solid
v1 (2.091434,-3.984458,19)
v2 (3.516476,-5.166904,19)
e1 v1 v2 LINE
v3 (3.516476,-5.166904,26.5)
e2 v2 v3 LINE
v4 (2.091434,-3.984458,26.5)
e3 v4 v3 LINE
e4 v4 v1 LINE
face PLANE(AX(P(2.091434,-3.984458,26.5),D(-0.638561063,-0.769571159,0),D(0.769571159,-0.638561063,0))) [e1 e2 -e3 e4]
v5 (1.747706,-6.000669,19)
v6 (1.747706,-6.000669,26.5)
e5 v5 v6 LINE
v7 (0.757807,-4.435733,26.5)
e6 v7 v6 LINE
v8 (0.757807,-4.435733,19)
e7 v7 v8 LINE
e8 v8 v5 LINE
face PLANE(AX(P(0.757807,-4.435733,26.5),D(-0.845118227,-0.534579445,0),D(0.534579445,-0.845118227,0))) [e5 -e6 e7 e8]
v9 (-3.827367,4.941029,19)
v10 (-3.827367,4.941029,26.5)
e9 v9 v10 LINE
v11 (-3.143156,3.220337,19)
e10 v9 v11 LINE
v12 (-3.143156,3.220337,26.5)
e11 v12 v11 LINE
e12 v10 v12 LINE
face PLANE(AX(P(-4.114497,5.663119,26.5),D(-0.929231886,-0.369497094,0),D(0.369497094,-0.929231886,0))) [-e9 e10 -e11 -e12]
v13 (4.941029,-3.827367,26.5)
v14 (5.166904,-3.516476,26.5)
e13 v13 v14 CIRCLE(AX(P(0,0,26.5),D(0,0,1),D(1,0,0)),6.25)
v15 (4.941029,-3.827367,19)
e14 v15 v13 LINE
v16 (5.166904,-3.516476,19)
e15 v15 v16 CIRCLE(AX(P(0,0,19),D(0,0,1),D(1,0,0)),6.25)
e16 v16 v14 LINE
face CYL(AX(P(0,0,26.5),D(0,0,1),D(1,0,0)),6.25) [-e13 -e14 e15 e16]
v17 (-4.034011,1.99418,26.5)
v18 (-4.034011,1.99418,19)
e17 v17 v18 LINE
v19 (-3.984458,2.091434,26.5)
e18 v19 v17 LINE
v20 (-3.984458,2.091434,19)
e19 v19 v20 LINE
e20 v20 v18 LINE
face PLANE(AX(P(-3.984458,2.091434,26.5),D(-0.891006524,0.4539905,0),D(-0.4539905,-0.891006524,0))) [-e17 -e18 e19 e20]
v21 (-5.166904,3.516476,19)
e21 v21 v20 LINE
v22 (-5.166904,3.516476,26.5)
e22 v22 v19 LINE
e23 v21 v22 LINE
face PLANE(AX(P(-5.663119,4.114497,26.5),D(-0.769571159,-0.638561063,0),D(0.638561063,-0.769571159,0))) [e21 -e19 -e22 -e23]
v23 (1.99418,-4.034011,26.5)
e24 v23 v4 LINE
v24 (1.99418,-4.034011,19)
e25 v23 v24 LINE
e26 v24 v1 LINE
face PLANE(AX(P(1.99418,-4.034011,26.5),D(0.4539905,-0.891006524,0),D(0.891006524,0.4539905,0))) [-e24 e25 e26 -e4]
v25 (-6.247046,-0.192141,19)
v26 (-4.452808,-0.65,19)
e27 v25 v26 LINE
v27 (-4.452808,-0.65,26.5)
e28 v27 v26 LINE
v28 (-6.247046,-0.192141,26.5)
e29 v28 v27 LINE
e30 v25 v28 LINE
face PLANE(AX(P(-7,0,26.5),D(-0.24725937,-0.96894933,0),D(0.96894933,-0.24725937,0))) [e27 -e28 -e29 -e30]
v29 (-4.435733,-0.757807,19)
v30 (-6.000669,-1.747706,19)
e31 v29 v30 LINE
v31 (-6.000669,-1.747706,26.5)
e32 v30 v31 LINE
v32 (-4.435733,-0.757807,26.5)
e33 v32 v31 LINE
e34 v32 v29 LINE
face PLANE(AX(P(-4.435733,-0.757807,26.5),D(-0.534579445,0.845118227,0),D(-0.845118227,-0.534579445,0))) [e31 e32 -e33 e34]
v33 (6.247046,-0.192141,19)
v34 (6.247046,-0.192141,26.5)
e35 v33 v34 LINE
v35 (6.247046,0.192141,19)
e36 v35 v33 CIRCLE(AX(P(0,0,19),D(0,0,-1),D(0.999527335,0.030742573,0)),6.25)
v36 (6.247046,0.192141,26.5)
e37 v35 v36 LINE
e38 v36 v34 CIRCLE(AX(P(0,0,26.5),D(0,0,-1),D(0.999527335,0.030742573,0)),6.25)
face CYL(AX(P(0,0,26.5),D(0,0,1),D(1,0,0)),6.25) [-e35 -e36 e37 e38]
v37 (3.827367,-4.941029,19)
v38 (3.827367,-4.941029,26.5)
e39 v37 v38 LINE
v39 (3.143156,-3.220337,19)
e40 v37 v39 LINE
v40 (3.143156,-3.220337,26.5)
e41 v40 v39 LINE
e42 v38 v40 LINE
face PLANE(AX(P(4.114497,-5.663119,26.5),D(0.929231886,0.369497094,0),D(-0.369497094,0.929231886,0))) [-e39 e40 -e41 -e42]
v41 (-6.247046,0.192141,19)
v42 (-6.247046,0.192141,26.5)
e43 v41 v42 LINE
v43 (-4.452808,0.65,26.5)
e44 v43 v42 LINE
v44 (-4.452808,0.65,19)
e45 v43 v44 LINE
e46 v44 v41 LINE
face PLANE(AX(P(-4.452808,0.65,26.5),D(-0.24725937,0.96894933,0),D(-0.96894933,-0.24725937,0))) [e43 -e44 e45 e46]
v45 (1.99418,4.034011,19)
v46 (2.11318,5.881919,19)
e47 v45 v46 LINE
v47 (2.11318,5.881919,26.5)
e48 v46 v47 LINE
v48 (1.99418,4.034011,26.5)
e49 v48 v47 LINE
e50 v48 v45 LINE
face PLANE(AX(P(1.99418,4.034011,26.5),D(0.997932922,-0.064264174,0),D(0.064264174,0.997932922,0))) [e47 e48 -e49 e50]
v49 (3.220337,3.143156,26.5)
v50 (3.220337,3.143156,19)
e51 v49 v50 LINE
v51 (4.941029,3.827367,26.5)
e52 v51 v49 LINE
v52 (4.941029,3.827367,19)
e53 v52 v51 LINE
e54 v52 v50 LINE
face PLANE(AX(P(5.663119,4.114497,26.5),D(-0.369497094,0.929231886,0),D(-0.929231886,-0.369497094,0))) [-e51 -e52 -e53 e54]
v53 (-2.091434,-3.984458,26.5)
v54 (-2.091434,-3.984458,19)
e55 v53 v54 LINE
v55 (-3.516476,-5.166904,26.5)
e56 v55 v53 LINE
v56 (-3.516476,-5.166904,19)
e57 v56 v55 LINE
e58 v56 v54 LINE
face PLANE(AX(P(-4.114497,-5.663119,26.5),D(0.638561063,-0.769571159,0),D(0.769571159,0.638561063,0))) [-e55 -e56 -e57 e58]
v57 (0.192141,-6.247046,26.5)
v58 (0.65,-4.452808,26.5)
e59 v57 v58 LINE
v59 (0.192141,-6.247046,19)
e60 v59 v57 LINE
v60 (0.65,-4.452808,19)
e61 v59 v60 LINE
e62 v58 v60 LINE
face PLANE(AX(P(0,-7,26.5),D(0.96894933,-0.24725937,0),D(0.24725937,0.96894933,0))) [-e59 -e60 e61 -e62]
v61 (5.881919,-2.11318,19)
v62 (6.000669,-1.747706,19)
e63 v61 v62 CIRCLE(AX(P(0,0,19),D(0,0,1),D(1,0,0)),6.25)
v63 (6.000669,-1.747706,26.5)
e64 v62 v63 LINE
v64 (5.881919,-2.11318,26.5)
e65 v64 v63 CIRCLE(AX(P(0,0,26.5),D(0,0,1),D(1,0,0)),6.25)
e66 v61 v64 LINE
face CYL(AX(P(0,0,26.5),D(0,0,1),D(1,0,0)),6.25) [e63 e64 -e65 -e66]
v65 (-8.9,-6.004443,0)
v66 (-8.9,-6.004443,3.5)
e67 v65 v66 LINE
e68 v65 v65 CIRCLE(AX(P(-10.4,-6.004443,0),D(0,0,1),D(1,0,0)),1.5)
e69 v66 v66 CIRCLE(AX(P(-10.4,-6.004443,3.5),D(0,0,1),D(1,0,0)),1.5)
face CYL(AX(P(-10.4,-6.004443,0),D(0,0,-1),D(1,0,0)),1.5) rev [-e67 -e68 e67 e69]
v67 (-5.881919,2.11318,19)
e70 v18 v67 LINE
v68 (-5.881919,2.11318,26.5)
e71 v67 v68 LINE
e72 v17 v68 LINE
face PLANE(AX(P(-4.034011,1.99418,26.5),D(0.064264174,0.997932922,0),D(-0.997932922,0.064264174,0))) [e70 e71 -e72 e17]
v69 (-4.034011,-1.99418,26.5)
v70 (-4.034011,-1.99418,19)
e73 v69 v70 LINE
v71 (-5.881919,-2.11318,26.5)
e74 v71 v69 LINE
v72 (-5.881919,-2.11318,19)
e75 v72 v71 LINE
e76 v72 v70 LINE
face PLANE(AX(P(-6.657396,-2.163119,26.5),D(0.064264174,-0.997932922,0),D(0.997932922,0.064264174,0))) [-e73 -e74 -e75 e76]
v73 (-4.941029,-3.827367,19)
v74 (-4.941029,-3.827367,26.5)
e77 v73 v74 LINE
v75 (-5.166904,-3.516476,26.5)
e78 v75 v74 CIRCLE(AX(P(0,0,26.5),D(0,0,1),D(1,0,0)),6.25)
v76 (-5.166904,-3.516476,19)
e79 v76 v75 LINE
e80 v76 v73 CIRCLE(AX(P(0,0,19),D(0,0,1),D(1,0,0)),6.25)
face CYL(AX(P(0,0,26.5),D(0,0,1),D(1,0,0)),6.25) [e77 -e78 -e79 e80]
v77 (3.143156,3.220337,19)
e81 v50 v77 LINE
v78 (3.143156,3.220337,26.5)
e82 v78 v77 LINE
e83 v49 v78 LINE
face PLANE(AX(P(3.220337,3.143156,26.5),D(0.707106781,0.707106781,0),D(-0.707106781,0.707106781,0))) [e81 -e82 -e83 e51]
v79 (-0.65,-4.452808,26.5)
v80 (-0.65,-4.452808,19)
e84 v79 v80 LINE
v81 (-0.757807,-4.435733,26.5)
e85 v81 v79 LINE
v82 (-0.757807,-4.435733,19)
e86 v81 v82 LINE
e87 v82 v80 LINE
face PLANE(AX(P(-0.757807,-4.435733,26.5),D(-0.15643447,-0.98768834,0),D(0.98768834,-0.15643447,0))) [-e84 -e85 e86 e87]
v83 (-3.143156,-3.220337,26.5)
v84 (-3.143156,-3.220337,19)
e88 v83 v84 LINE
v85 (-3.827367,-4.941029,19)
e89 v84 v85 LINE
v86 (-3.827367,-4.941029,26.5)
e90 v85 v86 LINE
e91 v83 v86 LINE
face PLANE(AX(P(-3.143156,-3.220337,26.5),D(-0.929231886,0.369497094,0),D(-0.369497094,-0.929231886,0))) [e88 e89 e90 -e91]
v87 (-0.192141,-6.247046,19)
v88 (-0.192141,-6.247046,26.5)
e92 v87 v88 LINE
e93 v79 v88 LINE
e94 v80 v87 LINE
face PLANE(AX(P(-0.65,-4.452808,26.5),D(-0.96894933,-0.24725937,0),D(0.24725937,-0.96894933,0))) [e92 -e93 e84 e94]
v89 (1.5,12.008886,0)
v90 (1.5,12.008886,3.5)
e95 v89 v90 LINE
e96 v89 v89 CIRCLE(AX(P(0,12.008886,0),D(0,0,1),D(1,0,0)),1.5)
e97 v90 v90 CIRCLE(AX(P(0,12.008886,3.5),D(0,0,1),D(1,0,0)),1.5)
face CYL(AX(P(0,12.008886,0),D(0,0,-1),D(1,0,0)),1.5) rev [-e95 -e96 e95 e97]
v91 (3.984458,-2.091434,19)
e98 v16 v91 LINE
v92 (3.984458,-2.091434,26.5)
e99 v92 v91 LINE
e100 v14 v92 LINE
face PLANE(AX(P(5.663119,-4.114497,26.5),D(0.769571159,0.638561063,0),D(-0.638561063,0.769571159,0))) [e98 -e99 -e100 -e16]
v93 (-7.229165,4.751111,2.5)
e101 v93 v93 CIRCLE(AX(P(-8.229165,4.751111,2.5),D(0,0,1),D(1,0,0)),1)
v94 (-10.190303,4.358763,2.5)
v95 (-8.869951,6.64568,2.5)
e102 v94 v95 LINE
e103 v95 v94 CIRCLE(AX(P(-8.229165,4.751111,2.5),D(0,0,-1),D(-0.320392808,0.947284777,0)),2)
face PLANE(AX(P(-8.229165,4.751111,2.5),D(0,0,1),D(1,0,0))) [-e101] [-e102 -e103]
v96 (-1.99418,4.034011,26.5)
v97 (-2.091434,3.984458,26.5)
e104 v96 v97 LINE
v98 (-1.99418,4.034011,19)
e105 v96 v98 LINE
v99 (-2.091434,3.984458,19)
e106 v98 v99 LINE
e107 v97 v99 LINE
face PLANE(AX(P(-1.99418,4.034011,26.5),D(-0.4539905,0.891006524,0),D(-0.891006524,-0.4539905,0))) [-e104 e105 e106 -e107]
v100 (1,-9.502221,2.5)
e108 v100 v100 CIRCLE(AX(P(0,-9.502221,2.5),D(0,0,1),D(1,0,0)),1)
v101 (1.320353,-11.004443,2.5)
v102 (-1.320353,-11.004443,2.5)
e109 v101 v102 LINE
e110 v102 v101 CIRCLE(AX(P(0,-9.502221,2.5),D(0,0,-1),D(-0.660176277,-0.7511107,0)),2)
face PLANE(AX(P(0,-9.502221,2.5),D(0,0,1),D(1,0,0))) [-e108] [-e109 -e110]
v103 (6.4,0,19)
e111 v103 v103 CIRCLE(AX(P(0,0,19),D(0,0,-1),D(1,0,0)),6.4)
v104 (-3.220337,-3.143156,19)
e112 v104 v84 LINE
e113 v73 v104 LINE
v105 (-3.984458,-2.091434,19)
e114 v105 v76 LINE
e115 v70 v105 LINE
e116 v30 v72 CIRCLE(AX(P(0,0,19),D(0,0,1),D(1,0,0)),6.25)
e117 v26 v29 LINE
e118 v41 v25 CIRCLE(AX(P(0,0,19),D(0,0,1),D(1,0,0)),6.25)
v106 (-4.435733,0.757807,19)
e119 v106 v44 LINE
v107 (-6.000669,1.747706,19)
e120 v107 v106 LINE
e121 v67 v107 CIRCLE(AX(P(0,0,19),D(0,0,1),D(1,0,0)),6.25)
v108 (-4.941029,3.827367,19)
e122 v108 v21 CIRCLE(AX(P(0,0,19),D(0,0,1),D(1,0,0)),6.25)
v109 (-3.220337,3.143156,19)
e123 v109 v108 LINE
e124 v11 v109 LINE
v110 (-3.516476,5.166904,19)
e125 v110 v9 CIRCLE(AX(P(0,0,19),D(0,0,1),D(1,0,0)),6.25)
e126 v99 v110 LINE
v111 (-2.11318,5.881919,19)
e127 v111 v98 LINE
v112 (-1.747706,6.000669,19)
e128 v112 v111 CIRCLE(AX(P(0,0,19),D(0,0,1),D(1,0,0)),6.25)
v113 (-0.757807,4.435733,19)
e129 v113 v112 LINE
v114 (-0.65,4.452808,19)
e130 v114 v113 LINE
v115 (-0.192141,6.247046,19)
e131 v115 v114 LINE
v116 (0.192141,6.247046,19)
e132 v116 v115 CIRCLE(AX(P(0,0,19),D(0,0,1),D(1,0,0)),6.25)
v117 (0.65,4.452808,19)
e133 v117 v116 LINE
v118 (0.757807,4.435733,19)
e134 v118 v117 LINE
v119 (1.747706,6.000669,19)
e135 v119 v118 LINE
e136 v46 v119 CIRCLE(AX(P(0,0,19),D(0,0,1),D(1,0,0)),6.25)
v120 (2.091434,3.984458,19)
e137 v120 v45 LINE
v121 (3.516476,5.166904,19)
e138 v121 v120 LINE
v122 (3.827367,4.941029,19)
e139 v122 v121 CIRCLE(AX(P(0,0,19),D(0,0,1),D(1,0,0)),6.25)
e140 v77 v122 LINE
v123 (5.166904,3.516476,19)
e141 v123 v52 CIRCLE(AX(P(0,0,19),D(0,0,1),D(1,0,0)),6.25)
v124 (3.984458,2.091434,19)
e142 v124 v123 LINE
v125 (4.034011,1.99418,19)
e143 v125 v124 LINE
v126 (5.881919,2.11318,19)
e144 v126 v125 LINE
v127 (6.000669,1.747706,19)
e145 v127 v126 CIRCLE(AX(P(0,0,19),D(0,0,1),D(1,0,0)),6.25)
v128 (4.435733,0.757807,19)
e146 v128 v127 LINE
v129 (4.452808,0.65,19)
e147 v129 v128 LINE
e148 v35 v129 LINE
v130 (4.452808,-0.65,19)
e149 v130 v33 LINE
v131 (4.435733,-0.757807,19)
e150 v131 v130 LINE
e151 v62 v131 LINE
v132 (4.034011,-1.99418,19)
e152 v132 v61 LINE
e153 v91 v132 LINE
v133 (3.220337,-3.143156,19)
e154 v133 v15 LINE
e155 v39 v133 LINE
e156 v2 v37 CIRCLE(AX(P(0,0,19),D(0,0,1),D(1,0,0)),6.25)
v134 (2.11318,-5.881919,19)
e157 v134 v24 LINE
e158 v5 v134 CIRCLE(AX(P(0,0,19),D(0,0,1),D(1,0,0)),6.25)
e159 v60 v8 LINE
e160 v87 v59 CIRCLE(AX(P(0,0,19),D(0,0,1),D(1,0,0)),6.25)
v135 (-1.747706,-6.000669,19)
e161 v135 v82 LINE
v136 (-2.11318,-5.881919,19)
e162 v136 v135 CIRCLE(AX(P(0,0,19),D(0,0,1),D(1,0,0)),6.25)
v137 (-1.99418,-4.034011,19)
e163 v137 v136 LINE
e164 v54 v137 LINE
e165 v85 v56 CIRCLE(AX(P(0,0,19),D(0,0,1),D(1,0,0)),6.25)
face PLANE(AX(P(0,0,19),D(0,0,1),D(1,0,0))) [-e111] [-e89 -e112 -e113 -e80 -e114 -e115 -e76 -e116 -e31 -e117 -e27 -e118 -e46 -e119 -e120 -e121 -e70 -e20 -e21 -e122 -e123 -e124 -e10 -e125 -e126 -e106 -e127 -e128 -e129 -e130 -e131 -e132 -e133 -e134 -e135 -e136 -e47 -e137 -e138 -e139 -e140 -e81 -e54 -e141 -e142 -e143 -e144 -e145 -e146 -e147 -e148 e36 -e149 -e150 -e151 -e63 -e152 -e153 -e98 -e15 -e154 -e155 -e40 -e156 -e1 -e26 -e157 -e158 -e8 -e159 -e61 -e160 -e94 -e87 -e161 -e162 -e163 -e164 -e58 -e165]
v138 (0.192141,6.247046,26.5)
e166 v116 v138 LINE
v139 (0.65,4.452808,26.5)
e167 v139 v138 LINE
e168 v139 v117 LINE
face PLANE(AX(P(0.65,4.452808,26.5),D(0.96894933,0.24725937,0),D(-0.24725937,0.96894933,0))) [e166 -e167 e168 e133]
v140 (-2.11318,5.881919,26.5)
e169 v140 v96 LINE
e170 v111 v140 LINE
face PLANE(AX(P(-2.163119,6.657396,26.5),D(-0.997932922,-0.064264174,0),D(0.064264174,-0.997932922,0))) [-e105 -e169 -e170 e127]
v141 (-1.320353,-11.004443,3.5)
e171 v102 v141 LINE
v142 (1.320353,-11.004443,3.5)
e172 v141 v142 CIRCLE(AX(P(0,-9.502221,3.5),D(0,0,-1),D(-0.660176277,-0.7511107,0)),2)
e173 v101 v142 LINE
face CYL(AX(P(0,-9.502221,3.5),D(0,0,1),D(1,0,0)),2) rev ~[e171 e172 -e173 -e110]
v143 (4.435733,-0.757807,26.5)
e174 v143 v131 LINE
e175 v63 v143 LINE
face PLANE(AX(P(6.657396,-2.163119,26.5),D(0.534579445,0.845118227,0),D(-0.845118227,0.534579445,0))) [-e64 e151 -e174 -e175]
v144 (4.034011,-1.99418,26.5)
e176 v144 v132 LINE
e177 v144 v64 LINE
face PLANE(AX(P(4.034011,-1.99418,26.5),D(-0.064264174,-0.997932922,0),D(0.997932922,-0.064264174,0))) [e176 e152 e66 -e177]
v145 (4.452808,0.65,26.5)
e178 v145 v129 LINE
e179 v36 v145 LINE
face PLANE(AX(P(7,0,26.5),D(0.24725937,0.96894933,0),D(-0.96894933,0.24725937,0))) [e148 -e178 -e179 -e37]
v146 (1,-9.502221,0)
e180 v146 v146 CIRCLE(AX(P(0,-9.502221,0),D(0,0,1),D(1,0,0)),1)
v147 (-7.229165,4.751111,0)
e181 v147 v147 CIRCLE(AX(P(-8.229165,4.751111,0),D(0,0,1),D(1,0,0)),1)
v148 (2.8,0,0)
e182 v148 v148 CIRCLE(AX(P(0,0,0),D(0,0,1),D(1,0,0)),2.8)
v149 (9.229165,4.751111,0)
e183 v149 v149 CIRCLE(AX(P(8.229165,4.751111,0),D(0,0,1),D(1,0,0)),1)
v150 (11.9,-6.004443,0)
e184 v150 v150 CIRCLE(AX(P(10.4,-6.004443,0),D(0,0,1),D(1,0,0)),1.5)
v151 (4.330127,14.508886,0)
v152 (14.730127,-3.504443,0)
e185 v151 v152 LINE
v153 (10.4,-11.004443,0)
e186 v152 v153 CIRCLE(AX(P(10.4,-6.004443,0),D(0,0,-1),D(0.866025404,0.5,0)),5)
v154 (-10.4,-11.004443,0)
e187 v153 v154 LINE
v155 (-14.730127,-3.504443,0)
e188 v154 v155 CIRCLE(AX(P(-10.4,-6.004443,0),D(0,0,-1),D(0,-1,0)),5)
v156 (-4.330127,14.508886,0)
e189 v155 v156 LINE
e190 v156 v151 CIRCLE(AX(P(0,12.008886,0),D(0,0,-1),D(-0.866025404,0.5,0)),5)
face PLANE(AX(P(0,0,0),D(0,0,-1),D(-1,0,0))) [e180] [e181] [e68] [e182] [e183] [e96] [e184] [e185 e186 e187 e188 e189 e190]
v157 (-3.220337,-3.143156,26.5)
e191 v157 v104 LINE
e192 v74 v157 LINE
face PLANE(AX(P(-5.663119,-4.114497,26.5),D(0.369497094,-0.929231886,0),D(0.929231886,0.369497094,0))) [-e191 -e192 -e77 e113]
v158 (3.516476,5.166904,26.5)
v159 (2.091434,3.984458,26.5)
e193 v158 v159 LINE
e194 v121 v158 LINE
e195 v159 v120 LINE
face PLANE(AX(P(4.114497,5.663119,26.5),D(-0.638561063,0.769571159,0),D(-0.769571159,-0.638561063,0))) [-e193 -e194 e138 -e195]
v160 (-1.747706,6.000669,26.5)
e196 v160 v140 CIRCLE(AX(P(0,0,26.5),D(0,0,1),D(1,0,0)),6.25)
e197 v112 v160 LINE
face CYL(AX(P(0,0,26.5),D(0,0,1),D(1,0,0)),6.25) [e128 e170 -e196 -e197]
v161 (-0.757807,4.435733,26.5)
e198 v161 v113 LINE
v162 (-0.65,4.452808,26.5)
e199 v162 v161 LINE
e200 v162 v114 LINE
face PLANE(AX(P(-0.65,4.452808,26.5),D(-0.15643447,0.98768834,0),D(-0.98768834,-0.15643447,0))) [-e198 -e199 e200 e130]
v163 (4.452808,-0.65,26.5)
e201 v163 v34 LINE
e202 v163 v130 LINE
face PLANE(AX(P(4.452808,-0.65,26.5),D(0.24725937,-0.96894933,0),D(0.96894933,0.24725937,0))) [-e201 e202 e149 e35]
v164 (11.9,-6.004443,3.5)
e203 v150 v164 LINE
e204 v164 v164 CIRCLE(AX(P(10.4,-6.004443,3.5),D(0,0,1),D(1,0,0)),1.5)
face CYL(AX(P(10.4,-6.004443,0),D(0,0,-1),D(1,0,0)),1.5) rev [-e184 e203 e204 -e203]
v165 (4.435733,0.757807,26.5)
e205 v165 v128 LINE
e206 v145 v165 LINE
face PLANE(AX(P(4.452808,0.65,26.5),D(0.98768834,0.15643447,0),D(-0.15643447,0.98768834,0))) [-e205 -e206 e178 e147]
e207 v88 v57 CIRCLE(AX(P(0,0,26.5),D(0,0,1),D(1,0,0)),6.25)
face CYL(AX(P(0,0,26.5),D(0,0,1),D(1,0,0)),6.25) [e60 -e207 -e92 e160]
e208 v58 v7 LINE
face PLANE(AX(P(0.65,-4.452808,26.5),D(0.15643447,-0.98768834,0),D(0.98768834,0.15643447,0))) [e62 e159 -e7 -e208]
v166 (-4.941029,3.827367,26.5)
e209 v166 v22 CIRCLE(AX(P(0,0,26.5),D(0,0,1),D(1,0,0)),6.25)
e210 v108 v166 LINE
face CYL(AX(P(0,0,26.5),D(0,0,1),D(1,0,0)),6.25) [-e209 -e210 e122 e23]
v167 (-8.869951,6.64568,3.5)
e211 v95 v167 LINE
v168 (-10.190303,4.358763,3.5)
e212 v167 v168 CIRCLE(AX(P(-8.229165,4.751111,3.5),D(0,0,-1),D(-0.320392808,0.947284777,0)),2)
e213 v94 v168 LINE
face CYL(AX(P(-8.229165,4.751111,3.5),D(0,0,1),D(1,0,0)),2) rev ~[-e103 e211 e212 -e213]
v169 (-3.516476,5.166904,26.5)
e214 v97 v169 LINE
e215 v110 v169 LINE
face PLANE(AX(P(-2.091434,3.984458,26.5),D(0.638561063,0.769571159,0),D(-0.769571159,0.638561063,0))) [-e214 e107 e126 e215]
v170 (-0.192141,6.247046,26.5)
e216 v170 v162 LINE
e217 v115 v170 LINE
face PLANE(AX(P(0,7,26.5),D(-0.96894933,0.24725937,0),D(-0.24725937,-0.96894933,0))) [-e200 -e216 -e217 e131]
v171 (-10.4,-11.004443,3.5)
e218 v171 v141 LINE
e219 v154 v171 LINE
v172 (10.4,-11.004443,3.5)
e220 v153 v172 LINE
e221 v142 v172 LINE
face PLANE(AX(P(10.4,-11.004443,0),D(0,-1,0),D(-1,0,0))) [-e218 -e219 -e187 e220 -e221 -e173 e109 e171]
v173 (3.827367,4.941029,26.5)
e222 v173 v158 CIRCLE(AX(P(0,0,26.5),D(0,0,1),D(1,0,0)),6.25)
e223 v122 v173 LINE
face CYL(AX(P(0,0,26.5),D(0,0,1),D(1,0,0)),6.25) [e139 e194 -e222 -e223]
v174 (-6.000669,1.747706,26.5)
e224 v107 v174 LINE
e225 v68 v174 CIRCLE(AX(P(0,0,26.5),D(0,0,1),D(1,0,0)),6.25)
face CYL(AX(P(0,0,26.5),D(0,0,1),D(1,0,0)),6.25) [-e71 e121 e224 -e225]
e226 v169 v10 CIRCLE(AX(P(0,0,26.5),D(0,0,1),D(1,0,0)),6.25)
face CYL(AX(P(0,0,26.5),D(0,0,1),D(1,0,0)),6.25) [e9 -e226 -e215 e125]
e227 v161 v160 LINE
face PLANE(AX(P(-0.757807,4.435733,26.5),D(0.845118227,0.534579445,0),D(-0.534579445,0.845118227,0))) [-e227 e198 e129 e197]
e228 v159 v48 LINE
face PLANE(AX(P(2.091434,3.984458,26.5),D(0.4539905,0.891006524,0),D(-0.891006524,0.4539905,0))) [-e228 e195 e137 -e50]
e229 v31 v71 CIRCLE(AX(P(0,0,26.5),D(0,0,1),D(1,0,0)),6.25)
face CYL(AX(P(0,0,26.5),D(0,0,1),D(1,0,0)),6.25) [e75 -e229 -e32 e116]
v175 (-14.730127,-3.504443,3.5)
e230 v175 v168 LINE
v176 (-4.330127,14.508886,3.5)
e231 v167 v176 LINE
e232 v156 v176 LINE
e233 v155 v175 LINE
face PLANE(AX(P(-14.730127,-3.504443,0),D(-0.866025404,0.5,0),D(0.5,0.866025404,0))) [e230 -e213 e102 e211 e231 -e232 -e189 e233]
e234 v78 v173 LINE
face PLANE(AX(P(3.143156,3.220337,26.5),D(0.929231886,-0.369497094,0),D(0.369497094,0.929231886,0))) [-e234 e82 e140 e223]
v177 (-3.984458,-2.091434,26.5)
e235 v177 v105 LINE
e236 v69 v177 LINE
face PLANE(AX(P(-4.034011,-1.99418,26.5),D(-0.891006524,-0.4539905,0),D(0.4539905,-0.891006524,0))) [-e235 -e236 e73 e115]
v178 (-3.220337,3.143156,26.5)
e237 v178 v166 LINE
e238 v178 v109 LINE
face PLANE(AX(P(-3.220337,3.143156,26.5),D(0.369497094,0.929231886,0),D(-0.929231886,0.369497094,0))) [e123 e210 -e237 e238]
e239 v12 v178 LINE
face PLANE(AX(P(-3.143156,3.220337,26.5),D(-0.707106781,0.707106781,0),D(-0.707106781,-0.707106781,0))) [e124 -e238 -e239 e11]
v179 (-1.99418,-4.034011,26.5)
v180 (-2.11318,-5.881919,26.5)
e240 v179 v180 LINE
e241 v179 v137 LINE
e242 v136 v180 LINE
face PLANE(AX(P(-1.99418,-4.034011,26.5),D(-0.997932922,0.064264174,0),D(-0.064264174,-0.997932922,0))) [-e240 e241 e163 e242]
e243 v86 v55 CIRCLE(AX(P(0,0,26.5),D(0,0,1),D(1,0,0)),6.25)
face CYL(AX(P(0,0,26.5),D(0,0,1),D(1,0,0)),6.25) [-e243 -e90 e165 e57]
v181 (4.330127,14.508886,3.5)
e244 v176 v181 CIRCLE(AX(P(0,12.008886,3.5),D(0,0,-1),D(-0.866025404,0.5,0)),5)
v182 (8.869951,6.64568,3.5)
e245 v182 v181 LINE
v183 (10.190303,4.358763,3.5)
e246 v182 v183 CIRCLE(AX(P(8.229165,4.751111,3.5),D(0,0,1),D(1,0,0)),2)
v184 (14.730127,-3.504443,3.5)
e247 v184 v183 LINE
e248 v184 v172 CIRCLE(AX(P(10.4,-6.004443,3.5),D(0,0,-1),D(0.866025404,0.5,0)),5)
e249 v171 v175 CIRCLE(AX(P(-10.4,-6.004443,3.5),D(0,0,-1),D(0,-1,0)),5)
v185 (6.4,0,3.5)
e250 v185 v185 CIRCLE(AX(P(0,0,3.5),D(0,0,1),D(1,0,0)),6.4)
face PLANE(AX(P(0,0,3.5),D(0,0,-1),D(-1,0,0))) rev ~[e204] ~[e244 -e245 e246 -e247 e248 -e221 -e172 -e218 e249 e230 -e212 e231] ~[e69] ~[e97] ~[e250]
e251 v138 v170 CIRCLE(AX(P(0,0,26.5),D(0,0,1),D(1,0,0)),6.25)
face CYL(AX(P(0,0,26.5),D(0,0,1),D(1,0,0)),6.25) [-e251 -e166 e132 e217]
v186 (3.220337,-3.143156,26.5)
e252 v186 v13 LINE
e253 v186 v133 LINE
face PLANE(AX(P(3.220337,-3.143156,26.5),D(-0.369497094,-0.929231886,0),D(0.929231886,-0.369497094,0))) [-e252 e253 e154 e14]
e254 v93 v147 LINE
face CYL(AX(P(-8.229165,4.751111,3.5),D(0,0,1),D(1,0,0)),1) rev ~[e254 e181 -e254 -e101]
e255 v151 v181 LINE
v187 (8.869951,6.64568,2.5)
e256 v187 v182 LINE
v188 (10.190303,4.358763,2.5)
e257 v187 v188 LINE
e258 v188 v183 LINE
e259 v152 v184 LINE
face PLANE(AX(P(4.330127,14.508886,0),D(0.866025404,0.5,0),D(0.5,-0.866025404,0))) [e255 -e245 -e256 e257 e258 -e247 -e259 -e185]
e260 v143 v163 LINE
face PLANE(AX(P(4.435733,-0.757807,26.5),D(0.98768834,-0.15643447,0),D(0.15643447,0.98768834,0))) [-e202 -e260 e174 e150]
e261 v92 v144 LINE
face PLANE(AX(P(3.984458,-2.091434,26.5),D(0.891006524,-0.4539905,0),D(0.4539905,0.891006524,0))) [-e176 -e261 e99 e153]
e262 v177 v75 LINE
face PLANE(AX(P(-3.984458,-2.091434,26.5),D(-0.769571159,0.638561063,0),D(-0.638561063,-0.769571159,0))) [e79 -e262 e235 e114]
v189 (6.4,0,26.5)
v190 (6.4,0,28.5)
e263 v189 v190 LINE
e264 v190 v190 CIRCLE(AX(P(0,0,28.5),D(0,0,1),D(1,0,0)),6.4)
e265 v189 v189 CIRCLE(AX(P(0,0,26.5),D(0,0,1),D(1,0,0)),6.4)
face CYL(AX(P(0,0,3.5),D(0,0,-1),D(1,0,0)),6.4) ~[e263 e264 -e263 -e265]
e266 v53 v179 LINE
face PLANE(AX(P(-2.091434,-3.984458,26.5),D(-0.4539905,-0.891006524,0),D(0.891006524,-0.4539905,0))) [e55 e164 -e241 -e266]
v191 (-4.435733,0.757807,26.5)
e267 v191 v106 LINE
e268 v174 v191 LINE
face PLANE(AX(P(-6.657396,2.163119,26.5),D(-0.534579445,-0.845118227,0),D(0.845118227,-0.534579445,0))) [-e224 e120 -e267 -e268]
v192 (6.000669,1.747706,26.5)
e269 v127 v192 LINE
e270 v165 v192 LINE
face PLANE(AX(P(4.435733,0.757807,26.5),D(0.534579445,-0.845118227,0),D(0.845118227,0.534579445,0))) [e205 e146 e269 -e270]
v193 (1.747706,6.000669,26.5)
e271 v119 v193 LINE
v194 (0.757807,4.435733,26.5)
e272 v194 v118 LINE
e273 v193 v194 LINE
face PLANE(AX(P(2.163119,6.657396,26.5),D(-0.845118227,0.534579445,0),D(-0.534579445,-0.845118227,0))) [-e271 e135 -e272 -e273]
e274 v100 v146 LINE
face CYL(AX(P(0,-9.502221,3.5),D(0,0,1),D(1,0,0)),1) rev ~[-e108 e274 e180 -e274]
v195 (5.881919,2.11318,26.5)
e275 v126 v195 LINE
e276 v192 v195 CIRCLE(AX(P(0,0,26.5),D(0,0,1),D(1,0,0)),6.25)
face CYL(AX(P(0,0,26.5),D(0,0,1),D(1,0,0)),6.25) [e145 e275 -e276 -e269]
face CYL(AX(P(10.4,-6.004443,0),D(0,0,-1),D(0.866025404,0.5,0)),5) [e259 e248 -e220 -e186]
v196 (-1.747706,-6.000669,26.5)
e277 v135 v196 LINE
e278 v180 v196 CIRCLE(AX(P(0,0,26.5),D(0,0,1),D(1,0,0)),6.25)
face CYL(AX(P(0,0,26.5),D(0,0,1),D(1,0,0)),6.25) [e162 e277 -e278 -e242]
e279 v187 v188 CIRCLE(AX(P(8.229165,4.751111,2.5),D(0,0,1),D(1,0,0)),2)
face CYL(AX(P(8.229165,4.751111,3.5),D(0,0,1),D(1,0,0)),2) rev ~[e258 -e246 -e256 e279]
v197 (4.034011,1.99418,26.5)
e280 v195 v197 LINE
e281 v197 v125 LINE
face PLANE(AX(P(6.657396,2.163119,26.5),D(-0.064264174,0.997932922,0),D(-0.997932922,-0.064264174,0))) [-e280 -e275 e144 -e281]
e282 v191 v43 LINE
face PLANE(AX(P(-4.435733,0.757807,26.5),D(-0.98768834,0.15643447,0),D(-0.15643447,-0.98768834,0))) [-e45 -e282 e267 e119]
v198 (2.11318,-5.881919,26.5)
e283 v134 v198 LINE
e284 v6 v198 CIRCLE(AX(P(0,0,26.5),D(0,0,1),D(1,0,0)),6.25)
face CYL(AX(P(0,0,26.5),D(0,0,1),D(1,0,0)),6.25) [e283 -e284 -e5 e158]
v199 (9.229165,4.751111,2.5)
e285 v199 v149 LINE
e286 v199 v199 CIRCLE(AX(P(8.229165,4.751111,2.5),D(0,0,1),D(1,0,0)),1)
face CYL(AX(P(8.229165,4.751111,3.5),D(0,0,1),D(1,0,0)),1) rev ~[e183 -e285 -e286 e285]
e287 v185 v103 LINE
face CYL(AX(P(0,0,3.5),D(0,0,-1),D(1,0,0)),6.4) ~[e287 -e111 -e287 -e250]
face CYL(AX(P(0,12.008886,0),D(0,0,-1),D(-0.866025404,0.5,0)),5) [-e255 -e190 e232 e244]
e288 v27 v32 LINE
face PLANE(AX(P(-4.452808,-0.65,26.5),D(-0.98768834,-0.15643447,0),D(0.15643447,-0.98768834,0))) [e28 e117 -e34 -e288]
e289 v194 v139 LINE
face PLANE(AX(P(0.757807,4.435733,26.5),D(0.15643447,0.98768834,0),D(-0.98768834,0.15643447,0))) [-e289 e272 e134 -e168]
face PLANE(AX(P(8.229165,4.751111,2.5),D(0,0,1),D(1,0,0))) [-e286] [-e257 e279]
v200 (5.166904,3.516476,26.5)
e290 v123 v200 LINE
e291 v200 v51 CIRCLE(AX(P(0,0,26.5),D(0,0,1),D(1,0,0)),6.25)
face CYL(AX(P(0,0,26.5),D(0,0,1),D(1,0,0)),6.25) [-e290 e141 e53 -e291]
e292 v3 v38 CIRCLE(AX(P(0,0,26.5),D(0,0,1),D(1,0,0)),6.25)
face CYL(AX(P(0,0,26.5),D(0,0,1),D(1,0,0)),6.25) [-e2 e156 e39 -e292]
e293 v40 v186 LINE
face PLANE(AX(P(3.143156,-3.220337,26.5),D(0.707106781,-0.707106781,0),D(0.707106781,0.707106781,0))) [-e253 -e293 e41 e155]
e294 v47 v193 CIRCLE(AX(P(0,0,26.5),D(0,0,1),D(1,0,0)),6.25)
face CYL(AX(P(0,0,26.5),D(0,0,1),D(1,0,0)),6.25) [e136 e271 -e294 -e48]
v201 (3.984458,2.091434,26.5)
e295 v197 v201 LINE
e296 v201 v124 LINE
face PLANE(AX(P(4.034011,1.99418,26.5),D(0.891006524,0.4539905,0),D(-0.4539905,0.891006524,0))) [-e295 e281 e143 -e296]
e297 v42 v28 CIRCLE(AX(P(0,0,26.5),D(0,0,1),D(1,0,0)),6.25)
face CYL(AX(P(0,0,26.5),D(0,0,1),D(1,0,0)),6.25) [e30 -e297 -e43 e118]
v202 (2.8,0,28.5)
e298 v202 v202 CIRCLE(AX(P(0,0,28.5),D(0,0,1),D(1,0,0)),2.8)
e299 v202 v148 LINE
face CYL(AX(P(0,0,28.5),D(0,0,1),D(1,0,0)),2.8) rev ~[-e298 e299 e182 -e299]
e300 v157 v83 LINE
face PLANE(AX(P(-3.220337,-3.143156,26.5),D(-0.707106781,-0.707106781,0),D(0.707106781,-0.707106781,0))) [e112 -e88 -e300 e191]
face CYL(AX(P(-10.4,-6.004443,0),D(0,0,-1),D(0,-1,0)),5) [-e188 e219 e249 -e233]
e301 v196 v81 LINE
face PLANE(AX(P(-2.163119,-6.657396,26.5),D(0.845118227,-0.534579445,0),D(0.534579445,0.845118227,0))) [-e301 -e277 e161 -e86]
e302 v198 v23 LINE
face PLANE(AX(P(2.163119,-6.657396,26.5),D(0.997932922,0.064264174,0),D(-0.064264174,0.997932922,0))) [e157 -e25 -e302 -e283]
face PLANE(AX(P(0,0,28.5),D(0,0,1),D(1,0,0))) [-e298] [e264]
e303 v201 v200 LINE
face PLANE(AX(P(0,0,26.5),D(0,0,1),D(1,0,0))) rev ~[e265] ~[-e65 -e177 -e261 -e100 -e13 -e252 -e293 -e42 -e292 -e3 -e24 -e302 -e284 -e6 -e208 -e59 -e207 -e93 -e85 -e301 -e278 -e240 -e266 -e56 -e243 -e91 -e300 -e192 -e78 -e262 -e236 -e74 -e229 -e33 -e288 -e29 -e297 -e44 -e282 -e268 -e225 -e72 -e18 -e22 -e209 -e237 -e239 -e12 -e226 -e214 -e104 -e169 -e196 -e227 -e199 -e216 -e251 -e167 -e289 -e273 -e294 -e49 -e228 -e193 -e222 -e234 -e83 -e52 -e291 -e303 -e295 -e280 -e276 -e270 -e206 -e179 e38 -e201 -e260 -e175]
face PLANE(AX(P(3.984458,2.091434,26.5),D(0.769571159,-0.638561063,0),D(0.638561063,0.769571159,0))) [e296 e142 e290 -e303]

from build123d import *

# Parameters (mm, degrees)
SKETCH1_R               = 1.5
BOSS_EXTRUDE1_DEPTH     = 3.5
SKETCH2_R               = 6.4
BOSS_EXTRUDE2_DEPTH     = 25
SKETCH3_R               = 2.8
CUT_EXTRUDE1_DEPTH      = 29.5
SKETCH6_R               = 9.569614172
CUT_EXTRUDE6_DEPTH      = 7.5
SKETCH7_R               = 17.775779512
SKETCH7_R_2             = 6.25
CUT_EXTRUDE7_DEPTH      = 7.5
SKETCH8_R               = 1
CUT_EXTRUDE8_DEPTH      = 4.5
SKETCH9_R               = 2
CUT_EXTRUDE9_DEPTH      = 13
CUT_EXTRUDE9_DEPTH_BACK = 1


with BuildPart() as part:
    # Sketch1 → Boss-Extrude1 (new body)
    with BuildSketch(Plane.XY):
        with BuildLine():
            Line((-14.730127019, -3.5044428), (-4.330127019, 14.508885599))
            ThreePointArc((-4.330127019, 14.508885599), (0, 17.008885599), (4.330127019, 14.508885599))
            Line((4.330127019, 14.508885599), (14.730127019, -3.5044428))
            ThreePointArc((14.730127019, -3.5044428), (14.730127019, -8.5044428), (10.4, -11.0044428))
            Line((10.4, -11.0044428), (-10.4, -11.0044428))
            ThreePointArc((-10.4, -11.0044428), (-14.730127019, -8.5044428), (-14.730127019, -3.5044428))
        make_face()
        with Locations((0, 12.008885599)):
            Circle(SKETCH1_R, mode=Mode.SUBTRACT)
        with Locations((-10.4, -6.0044428)):
            Circle(SKETCH1_R, mode=Mode.SUBTRACT)
        with Locations((10.4, -6.0044428)):
            Circle(SKETCH1_R, mode=Mode.SUBTRACT)
    extrude(amount=BOSS_EXTRUDE1_DEPTH)

    # Sketch2 → Boss-Extrude2 (add)
    with BuildSketch(Plane.XY.offset(3.5)):
        Circle(SKETCH2_R)
    extrude(amount=BOSS_EXTRUDE2_DEPTH)

    # Sketch3 → Cut-Extrude1 (cut, through all)
    with BuildSketch(Plane.XY.offset(28.5)):
        Circle(SKETCH3_R)
    extrude(amount=-CUT_EXTRUDE1_DEPTH, mode=Mode.SUBTRACT)

    # Sketch6 → Cut-Extrude6 (cut)
    with BuildSketch(Plane.XY.offset(26.5)):
        Circle(SKETCH6_R)
        Polygon((7, 0), (4.452808103, 0.65), (4.435733208, 0.757806641), (6.657395614, 2.163118961), (4.034011116, 1.994180112), (3.984457842, 2.091433888), (5.663118961, 4.114496766), (3.220337014, 3.14315598), (3.14315598, 3.220337014), (4.114496766, 5.663118961), (2.091433888, 3.984457842), (1.994180112, 4.034011116), (2.163118961, 6.657395614), (0.757806641, 4.435733208), (0.65, 4.452808103), (0, 7), (-0.65, 4.452808103), (-0.757806641, 4.435733208), (-2.163118961, 6.657395614), (-1.994180112, 4.034011116), (-2.091433888, 3.984457842), (-4.114496766, 5.663118961), (-3.14315598, 3.220337014), (-3.220337014, 3.14315598), (-5.663118961, 4.114496766), (-3.984457842, 2.091433888), (-4.034011116, 1.994180112), (-6.657395614, 2.163118961), (-4.435733208, 0.757806641), (-4.452808103, 0.65), (-7, 0), (-4.452808103, -0.65), (-4.435733208, -0.757806641), (-6.657395614, -2.163118961), (-4.034011116, -1.994180112), (-3.984457842, -2.091433888), (-5.663118961, -4.114496766), (-3.220337014, -3.14315598), (-3.14315598, -3.220337014), (-4.114496766, -5.663118961), (-2.091433888, -3.984457842), (-1.994180112, -4.034011116), (-2.163118961, -6.657395614), (-0.757806641, -4.435733208), (-0.65, -4.452808103), (0, -7), (0.65, -4.452808103), (0.757806641, -4.435733208), (2.163118961, -6.657395614), (1.994180112, -4.034011116), (2.091433888, -3.984457842), (4.114496766, -5.663118961), (3.14315598, -3.220337014), (3.220337014, -3.14315598), (5.663118961, -4.114496766), (3.984457842, -2.091433888), (4.034011116, -1.994180112), (6.657395614, -2.163118961), (4.435733208, -0.757806641), (4.452808103, -0.65), align=None, mode=Mode.SUBTRACT)
    extrude(amount=-CUT_EXTRUDE6_DEPTH, mode=Mode.SUBTRACT)

    # Sketch7 → Cut-Extrude7 (cut)
    with BuildSketch(Plane.XY.offset(26.5)):
        Circle(SKETCH7_R)
        Circle(SKETCH7_R_2, mode=Mode.SUBTRACT)
    extrude(amount=-CUT_EXTRUDE7_DEPTH, mode=Mode.SUBTRACT)

    # Sketch8 → Cut-Extrude8 (cut, through all)
    with BuildSketch(Plane.XY.offset(3.5)):
        with Locations((8.229165125, 4.7511107)):
            Circle(SKETCH8_R)
        with Locations((0, -9.5022214)):
            Circle(SKETCH8_R)
        with Locations((-8.229165125, 4.7511107)):
            Circle(SKETCH8_R)
    extrude(amount=-CUT_EXTRUDE8_DEPTH, mode=Mode.SUBTRACT)

    # Sketch9 → Cut-Extrude9 (cut, two sides)
    with BuildSketch(Plane.XY.offset(3.5)) as cut_extrude9_sk:
        with Locations((8.229165125, 4.7511107)):
            Circle(SKETCH9_R)
        with Locations((0, -9.5022214)):
            Circle(SKETCH9_R)
        with Locations((-8.229165125, 4.7511107)):
            Circle(SKETCH9_R)
    extrude(amount=CUT_EXTRUDE9_DEPTH, mode=Mode.SUBTRACT)
    extrude(cut_extrude9_sk.sketch, amount=-CUT_EXTRUDE9_DEPTH_BACK, mode=Mode.SUBTRACT)


solid = part.part
